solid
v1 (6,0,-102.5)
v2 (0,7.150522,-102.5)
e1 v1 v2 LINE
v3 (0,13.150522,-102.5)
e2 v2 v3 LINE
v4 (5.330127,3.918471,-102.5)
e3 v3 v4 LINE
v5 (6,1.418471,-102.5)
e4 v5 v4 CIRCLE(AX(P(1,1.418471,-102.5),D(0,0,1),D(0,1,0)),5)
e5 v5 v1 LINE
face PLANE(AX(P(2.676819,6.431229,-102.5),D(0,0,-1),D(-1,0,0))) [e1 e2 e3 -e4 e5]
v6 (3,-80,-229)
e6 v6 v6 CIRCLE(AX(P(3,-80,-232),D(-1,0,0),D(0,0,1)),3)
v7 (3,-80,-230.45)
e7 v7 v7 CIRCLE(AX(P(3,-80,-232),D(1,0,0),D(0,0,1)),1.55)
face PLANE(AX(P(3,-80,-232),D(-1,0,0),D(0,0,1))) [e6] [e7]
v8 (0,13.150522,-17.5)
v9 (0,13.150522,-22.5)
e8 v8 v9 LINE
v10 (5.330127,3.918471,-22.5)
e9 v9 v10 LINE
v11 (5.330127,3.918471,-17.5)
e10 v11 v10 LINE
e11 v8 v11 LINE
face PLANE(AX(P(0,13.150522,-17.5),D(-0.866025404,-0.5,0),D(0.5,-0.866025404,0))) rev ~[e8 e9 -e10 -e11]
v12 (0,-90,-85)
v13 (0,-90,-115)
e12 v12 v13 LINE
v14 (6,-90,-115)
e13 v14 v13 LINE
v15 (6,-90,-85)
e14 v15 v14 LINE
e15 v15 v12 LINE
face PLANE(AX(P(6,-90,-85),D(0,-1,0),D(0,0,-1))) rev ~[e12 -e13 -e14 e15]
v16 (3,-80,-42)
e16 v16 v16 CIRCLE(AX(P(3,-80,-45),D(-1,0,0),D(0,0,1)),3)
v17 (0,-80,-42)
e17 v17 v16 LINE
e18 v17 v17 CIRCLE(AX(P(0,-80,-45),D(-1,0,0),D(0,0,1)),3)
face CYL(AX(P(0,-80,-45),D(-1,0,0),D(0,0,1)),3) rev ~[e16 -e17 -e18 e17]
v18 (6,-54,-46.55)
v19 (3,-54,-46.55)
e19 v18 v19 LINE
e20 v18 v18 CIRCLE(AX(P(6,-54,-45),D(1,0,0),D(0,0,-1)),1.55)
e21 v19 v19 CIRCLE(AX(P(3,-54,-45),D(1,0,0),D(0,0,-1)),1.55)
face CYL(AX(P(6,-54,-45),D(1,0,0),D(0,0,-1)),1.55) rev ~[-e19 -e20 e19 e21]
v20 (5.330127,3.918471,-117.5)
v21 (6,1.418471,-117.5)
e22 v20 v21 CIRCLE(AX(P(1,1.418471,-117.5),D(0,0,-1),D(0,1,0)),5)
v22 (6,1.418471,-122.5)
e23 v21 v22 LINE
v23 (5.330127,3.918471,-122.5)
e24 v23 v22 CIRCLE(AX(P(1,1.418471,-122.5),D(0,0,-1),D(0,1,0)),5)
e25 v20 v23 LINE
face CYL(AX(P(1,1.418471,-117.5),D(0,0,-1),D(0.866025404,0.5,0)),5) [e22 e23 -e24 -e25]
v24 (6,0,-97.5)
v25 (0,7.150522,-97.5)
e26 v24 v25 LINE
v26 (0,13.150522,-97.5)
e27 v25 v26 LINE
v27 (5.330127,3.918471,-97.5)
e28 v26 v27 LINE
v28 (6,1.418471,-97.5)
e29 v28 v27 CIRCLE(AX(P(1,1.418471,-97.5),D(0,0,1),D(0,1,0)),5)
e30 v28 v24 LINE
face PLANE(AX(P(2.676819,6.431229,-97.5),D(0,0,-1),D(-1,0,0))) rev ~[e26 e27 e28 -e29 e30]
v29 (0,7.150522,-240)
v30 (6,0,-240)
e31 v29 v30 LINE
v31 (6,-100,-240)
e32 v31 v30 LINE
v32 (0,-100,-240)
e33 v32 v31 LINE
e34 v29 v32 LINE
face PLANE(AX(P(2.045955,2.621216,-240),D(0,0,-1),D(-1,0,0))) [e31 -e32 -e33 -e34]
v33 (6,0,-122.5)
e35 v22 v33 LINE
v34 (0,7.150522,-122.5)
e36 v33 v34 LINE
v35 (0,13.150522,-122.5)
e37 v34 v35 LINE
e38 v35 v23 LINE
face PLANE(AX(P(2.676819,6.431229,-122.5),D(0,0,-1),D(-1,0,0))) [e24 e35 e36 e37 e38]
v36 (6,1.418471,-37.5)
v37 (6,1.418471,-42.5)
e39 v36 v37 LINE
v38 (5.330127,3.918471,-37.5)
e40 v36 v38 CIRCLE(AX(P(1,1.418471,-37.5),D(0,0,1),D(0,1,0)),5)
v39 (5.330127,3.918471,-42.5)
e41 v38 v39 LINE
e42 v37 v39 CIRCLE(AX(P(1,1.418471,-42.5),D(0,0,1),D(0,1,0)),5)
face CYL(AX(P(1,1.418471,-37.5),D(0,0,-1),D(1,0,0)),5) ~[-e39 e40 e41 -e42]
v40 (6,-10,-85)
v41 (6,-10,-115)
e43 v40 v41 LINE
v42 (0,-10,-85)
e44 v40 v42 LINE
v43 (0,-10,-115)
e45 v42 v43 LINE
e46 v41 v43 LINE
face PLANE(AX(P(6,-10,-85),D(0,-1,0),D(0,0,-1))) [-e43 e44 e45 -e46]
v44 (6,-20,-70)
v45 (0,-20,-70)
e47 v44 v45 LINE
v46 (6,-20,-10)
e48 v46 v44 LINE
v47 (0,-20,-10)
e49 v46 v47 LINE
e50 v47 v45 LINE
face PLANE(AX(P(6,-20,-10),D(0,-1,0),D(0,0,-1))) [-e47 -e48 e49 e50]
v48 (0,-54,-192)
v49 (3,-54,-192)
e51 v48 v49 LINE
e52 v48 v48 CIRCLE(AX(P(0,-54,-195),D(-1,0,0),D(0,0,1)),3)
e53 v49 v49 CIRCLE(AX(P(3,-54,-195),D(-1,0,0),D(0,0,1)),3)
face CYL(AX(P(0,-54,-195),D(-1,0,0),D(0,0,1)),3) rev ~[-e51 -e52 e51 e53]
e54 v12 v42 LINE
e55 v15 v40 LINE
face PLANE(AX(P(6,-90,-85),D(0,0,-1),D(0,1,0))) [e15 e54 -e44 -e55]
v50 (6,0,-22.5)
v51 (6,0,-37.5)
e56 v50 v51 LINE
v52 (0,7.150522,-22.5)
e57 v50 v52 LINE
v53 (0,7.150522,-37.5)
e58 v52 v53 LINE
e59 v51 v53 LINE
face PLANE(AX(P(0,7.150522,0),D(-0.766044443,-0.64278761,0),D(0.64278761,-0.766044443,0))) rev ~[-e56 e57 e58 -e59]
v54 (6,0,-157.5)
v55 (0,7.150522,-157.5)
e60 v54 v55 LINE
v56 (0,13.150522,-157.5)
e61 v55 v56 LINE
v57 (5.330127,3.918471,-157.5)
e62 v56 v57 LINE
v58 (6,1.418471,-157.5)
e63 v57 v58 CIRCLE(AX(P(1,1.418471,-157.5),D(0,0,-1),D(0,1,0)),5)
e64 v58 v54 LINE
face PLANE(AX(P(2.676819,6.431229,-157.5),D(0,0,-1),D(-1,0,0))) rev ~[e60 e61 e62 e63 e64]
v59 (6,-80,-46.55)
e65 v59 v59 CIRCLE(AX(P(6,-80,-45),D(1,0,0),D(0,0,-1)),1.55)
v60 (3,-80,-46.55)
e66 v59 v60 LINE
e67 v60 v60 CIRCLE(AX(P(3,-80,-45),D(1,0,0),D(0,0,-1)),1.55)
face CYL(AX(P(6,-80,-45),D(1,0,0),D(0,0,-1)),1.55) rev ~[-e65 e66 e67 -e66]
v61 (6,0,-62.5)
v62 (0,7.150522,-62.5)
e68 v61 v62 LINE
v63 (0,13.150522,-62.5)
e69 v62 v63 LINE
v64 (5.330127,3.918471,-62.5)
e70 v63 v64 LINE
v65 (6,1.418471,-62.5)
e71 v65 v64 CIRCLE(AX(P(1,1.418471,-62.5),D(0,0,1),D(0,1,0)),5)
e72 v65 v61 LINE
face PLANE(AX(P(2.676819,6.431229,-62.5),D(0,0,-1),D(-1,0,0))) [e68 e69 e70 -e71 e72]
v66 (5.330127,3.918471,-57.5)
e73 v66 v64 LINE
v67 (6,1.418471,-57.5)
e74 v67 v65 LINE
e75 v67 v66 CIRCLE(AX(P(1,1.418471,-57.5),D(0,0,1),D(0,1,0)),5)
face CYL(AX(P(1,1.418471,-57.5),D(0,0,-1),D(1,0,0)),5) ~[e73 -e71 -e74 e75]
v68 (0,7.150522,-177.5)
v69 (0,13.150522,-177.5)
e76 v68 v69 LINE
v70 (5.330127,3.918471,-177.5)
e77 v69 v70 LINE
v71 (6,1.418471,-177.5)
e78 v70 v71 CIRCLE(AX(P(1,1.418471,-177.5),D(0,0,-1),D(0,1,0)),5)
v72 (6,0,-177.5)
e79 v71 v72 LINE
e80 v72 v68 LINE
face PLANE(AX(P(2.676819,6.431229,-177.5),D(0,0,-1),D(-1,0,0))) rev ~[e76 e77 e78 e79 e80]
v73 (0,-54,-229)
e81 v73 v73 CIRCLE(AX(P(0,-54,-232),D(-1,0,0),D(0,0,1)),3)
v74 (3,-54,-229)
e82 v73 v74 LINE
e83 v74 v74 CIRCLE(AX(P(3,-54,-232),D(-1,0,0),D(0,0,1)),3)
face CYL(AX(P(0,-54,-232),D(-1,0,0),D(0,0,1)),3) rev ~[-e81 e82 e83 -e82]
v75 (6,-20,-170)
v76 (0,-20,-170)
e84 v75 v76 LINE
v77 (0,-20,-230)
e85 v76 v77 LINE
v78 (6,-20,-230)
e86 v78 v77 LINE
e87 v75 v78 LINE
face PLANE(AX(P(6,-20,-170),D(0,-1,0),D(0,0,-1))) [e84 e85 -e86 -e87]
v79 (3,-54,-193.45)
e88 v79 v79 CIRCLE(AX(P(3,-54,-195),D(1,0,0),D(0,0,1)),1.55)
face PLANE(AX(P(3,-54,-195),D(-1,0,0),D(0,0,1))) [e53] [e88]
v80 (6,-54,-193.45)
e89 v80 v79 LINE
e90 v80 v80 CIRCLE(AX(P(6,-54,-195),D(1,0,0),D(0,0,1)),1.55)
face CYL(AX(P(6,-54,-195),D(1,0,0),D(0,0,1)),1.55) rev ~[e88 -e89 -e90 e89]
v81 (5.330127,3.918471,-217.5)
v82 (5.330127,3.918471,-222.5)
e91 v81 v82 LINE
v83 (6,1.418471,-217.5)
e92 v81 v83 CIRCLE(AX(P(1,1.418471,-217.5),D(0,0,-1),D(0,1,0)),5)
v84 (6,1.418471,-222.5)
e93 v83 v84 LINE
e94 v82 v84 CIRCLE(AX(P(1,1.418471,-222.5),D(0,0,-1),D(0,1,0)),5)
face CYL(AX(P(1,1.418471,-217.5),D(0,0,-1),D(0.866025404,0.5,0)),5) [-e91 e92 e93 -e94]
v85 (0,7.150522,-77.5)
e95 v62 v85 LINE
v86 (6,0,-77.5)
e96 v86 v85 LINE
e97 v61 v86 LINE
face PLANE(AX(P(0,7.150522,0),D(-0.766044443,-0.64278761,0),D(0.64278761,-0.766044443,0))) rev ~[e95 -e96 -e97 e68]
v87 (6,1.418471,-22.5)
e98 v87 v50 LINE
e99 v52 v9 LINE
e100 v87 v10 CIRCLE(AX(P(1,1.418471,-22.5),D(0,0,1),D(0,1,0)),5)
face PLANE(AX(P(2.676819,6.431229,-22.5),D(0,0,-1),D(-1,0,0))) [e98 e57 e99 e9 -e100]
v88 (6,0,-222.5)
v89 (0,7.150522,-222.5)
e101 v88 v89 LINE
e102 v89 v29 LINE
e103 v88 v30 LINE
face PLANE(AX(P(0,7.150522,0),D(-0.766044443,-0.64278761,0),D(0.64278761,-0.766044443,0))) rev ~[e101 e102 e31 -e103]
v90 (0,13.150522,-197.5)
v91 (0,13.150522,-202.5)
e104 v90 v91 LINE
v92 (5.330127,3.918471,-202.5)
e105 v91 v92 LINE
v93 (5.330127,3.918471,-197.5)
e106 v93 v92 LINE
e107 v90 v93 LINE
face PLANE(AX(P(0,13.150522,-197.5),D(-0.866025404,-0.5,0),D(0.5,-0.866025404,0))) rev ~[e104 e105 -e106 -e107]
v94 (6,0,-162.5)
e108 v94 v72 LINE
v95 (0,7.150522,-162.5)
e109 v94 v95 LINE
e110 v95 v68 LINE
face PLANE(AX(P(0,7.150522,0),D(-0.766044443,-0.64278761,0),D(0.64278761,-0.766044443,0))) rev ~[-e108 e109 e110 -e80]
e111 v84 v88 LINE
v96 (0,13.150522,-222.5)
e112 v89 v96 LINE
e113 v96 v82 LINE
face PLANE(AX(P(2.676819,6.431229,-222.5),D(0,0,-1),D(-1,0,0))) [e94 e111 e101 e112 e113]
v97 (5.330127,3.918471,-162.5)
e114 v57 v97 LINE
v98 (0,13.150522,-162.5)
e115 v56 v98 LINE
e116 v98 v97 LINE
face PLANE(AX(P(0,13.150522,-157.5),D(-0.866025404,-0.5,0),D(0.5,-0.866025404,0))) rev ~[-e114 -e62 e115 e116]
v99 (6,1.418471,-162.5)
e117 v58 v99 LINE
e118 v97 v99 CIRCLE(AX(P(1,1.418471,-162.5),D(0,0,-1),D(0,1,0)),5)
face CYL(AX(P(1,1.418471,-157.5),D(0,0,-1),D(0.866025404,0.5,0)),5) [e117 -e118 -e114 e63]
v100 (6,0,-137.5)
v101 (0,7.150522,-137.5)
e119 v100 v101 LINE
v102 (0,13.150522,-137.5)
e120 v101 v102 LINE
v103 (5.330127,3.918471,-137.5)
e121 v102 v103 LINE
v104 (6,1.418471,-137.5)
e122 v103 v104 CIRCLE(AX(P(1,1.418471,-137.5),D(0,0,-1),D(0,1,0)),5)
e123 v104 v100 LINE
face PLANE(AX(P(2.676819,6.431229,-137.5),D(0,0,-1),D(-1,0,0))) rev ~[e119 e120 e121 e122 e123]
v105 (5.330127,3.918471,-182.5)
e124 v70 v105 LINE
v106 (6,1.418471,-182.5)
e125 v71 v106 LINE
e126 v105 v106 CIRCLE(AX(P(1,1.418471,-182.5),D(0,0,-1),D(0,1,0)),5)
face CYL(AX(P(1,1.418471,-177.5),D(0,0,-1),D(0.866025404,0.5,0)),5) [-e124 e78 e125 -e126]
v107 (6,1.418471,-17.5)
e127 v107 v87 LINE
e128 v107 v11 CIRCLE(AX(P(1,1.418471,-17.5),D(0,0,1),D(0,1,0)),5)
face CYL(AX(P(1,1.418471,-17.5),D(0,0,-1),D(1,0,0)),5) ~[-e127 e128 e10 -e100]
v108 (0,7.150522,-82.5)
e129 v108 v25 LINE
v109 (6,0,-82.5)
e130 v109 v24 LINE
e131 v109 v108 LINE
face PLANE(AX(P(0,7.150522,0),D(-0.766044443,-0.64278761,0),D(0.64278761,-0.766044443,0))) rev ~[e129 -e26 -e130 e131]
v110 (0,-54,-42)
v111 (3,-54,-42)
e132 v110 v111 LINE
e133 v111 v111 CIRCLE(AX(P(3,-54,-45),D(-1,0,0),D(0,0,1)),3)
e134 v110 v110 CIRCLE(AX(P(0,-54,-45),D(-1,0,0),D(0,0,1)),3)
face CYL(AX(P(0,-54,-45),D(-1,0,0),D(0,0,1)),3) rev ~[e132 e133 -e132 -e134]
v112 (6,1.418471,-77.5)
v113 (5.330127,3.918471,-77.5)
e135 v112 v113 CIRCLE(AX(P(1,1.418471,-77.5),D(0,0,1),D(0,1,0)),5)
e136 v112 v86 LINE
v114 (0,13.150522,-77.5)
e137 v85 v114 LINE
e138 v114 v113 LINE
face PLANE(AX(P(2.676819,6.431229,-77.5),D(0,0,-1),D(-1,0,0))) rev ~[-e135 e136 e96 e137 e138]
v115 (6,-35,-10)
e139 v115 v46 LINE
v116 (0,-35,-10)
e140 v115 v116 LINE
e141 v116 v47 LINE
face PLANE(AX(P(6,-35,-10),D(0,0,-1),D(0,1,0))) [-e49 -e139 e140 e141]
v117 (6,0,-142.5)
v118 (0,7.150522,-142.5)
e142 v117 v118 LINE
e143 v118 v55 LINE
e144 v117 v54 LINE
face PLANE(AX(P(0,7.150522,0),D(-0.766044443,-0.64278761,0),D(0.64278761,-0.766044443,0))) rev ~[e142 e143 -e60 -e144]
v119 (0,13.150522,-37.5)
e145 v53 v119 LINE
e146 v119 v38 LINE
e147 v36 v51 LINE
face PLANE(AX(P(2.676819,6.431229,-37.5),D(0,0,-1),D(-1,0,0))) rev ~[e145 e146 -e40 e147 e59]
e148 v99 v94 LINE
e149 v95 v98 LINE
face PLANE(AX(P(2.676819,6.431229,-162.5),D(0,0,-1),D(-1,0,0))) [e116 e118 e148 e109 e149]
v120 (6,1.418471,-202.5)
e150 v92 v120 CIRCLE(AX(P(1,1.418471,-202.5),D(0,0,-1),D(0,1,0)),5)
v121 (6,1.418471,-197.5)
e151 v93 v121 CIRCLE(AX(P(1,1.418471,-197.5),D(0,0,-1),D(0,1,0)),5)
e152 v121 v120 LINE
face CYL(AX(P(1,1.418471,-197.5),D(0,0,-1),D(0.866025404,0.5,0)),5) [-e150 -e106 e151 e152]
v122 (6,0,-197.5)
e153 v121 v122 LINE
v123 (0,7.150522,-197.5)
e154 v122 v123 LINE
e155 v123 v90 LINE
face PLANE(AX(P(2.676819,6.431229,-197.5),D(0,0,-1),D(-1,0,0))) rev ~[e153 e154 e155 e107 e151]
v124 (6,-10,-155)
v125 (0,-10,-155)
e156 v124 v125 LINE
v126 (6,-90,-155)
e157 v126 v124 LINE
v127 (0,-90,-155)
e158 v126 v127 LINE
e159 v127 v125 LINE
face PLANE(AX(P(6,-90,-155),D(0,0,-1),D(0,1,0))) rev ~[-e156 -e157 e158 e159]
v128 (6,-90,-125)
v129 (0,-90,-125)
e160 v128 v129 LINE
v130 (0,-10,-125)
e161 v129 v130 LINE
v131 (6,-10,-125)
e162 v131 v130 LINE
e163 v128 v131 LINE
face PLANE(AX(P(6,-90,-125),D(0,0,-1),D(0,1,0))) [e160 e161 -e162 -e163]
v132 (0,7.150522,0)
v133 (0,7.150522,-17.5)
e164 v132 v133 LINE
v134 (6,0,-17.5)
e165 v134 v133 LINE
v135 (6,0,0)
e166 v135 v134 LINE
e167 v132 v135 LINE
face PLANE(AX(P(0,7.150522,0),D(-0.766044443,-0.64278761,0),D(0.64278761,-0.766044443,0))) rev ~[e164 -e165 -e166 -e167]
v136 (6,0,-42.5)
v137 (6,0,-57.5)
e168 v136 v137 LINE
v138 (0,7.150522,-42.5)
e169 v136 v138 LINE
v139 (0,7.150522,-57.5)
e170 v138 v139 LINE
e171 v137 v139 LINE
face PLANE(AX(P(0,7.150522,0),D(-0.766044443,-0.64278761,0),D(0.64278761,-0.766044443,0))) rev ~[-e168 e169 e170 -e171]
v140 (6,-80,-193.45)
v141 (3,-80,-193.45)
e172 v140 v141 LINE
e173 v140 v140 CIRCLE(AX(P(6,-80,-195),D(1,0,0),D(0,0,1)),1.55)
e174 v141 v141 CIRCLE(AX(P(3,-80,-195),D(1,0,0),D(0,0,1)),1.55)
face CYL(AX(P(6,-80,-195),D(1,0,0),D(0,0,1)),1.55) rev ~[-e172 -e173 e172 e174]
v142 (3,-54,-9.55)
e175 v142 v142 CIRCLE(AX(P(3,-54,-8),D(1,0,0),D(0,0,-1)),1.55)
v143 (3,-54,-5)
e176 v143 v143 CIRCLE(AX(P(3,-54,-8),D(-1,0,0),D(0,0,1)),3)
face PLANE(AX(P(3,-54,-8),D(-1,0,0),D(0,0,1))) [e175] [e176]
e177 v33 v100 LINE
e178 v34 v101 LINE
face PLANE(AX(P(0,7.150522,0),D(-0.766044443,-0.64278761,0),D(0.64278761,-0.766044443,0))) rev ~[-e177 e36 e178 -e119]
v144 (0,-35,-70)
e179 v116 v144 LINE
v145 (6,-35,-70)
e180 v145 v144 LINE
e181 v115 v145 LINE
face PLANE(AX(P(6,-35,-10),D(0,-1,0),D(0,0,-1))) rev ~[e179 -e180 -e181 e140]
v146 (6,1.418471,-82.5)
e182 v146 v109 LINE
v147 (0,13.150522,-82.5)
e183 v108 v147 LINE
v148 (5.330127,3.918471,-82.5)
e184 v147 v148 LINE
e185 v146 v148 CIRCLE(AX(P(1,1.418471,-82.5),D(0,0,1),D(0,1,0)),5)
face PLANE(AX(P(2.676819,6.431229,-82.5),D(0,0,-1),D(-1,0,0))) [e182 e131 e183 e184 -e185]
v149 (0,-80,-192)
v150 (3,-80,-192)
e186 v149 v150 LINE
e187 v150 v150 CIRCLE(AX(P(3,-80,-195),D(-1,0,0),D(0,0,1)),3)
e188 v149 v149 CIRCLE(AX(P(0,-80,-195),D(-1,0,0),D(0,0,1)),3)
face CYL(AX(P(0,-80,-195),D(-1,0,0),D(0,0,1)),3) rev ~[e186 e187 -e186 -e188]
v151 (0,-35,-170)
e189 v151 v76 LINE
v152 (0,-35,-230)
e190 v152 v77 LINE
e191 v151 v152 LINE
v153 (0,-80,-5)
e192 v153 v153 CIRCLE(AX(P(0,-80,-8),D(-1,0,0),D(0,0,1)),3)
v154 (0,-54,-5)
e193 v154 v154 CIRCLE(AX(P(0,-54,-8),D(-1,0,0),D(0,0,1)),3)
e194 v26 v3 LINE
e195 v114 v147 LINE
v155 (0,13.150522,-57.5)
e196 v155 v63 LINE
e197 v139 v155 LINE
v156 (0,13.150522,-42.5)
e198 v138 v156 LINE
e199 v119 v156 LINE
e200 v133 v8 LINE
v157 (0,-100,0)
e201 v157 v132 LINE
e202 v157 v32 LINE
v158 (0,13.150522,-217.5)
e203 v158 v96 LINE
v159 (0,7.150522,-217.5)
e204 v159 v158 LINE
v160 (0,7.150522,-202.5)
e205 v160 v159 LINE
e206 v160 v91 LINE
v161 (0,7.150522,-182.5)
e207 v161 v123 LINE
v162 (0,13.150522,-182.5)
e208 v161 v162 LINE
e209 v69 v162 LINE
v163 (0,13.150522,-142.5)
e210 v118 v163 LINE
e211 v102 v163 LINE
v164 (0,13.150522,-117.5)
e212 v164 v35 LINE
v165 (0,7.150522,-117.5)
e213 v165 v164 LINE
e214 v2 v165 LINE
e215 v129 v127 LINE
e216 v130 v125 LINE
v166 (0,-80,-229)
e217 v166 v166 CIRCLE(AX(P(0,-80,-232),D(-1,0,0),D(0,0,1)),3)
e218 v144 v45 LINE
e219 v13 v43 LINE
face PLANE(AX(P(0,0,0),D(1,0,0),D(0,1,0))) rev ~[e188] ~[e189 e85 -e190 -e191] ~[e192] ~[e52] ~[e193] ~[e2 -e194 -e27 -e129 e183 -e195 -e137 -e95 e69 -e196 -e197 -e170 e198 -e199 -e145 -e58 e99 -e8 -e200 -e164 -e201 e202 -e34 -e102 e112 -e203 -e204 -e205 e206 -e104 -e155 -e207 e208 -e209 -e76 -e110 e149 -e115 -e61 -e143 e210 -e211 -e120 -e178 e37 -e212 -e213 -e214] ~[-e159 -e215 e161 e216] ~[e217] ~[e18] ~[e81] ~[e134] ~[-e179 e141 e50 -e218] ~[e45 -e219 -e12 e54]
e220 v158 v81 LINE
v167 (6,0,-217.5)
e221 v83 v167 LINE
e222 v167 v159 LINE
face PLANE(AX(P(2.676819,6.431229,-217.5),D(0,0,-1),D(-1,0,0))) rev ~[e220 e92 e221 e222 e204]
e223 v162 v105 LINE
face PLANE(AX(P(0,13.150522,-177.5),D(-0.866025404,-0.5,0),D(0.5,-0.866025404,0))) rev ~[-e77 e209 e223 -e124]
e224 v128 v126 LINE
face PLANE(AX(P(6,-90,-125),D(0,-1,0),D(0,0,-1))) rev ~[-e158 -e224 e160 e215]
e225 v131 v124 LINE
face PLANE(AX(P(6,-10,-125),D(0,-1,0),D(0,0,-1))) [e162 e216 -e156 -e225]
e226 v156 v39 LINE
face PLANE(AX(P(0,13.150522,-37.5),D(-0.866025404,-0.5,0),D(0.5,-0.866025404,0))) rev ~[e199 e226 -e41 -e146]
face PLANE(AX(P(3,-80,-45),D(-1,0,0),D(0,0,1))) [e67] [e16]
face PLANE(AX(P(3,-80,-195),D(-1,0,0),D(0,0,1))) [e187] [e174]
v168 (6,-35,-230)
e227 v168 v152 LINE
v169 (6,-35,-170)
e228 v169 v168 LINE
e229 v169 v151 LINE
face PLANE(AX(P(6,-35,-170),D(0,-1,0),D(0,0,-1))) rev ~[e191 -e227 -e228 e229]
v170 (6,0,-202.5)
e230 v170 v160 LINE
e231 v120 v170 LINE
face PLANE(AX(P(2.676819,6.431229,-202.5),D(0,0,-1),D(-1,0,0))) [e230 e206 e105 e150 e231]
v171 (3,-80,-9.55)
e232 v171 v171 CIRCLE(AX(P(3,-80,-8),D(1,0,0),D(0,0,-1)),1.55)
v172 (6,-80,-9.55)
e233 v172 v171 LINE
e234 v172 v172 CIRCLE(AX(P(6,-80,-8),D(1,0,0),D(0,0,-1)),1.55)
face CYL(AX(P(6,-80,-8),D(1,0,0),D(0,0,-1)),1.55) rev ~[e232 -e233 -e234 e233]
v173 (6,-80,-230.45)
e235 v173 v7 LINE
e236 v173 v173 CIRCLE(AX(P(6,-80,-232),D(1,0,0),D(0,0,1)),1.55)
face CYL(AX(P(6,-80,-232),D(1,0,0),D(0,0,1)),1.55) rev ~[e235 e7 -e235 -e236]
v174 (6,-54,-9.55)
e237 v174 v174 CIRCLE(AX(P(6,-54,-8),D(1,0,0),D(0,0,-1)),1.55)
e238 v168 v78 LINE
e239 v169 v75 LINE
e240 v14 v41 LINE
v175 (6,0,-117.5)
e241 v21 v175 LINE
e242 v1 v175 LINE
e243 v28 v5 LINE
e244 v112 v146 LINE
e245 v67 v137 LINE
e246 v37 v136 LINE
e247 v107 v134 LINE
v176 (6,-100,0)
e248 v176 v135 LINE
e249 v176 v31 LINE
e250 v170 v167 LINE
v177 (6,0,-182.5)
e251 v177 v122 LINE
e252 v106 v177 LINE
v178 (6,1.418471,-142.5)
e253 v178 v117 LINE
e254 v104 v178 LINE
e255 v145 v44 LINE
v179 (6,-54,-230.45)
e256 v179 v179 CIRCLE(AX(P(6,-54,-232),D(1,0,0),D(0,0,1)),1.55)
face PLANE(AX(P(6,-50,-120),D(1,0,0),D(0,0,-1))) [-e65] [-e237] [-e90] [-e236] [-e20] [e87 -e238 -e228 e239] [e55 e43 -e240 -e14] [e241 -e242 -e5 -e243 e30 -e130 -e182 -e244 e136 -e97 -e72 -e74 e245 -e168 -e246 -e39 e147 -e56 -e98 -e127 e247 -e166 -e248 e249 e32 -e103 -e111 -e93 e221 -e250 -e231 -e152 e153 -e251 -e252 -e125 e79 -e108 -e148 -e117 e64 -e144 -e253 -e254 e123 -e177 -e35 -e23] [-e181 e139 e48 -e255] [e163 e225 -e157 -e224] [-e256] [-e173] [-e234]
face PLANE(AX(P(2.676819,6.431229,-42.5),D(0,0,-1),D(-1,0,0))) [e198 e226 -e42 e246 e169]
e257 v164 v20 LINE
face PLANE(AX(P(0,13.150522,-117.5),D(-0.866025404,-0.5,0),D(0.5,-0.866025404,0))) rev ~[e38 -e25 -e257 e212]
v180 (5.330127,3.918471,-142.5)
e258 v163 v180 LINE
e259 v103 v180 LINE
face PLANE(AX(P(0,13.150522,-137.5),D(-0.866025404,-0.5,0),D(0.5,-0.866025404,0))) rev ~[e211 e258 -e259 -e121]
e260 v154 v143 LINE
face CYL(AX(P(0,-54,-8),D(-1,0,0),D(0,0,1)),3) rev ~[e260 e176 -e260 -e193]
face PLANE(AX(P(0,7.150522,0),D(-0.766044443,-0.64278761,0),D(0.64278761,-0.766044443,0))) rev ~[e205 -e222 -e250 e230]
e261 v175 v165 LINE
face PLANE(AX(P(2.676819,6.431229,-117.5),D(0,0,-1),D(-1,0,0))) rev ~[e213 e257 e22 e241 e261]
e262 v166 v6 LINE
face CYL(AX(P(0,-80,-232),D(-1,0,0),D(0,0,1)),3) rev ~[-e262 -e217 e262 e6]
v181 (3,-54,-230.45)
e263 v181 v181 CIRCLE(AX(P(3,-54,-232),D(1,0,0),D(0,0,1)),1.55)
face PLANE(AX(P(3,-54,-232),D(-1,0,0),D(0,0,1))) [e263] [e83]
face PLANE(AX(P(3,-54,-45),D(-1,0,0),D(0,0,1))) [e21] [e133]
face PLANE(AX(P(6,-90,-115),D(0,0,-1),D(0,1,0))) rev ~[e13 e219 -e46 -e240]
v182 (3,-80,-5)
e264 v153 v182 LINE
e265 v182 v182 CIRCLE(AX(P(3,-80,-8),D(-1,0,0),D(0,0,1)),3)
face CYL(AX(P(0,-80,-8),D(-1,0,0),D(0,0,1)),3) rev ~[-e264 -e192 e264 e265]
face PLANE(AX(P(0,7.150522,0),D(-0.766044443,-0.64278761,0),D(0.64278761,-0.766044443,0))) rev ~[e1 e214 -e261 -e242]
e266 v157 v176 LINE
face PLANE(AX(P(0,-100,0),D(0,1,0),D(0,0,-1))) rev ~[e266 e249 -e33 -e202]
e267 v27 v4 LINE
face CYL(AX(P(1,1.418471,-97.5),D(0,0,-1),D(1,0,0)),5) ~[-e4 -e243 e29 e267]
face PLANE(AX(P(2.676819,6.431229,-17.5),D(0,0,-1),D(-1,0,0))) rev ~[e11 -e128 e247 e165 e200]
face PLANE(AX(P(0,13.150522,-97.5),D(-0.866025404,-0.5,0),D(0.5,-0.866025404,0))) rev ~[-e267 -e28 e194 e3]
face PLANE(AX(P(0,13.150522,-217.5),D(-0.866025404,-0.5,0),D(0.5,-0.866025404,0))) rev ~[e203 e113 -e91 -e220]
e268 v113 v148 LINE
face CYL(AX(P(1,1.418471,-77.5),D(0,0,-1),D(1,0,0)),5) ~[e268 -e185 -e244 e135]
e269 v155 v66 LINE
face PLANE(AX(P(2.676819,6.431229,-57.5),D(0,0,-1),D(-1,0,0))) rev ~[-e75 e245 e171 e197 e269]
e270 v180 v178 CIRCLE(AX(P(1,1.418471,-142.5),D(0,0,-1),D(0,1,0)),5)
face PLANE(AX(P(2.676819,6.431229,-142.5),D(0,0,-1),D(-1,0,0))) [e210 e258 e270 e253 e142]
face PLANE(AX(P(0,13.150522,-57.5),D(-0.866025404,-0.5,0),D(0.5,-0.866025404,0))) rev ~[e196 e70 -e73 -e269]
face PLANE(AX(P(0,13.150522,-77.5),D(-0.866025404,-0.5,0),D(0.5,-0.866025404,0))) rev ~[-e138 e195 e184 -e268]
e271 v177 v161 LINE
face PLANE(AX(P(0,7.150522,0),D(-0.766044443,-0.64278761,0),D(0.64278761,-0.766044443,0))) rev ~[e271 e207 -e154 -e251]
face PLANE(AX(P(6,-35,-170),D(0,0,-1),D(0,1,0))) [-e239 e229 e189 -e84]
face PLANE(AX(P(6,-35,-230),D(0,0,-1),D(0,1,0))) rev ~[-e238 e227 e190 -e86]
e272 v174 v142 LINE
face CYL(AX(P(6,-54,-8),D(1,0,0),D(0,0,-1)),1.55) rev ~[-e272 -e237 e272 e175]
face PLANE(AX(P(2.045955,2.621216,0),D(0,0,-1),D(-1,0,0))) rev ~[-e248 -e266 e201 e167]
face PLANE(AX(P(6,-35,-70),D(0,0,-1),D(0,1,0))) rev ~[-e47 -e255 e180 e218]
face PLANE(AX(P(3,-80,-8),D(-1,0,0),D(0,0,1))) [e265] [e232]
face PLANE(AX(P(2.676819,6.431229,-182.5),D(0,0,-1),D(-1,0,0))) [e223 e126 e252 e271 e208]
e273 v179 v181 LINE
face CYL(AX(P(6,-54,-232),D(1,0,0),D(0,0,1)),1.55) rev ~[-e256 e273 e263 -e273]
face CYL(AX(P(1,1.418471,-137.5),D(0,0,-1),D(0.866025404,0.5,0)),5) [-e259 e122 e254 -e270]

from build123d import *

# Parameters (mm, degrees)
SKETCH_1_W                 = 240
SKETCH_1_H                 = 100
EXTRUDE_1_DEPTH            = 6
SKETCH_2_R                 = 1.55
CUT_EXTRUDE_1_DEPTH        = 261.069221555
SKETCH_3_W                 = 60
SKETCH_3_H                 = 15
CUT_EXTRUDE_2_DEPTH        = 261.069221555
SKETCH_4_W                 = 30
SKETCH_4_H                 = 80
CUT_EXTRUDE_3_DEPTH        = 261.069221555
SKETCH_5_R                 = 3
CUT_EXTRUDE_4_DEPTH        = 3
EXTRUDE_2_DEPTH            = 240
EXTRUDE_3_DEPTH            = 5
PATTERN_LINEAR_1_COUNT     = 6
PATTERN_LINEAR_1_PITCH     = 20
PATTERN_LINEAR_1_COL_COUNT = 6
PATTERN_LINEAR_1_COL_PITCH = 20
FILLET_1_R                 = 5


with BuildPart() as part:
    # 草图1 → 凸台-拉伸1 (new body)
    with BuildSketch(Plane(origin=(0, 0, 0), x_dir=(0, 0, -1), z_dir=(1, 0, 0))):
        with Locations((120, -50)):
            Rectangle(SKETCH_1_W, SKETCH_1_H)
    extrude(amount=EXTRUDE_1_DEPTH)

    # 草图2 → 切除-拉伸1 (cut, through all)
    with BuildSketch(Plane(origin=(6, 0, 0), x_dir=(0, 0, -1), z_dir=(1, 0, 0))):
        with Locations((8, -54)):
            Circle(SKETCH_2_R)
        with Locations((45, -80)):
            Circle(SKETCH_2_R)
        with Locations((45, -54)):
            Circle(SKETCH_2_R)
        with Locations((8, -80)):
            Circle(SKETCH_2_R)
        with Locations(Location((232, -80, 0), (0, 0, 180))):
            Circle(SKETCH_2_R)
        with Locations(Location((195, -54, 0), (0, 0, 180))):
            Circle(SKETCH_2_R)
        with Locations(Location((195, -80, 0), (0, 0, 180))):
            Circle(SKETCH_2_R)
        with Locations(Location((232, -54, 0), (0, 0, 180))):
            Circle(SKETCH_2_R)
    extrude(amount=-CUT_EXTRUDE_1_DEPTH, mode=Mode.SUBTRACT)

    # 草图3 → 切除-拉伸2 (cut, through all)
    with BuildSketch(Plane(origin=(6, 0, 0), x_dir=(0, 0, -1), z_dir=(1, 0, 0))):
        with Locations((40, -27.5)):
            Rectangle(SKETCH_3_W, SKETCH_3_H)
        with Locations((200, -27.5)):
            Rectangle(SKETCH_3_W, SKETCH_3_H)
    extrude(amount=-CUT_EXTRUDE_2_DEPTH, mode=Mode.SUBTRACT)

    # 草图4 → 切除-拉伸3 (cut, through all)
    with BuildSketch(Plane(origin=(6, 0, 0), x_dir=(0, 0, -1), z_dir=(1, 0, 0))):
        with Locations((100, -50)):
            Rectangle(SKETCH_4_W, SKETCH_4_H)
        with Locations((140, -50)):
            Rectangle(SKETCH_4_W, SKETCH_4_H)
    extrude(amount=-CUT_EXTRUDE_3_DEPTH, mode=Mode.SUBTRACT)

    # 草图5 → 切除-拉伸4 (cut)
    with BuildSketch(Plane.ZY):
        with Locations((-195, -80)):
            Circle(SKETCH_5_R)
        with Locations((-232, -80)):
            Circle(SKETCH_5_R)
        with Locations((-195, -54)):
            Circle(SKETCH_5_R)
        with Locations((-232, -54)):
            Circle(SKETCH_5_R)
        with Locations((-45, -80)):
            Circle(SKETCH_5_R)
        with Locations((-8, -80)):
            Circle(SKETCH_5_R)
        with Locations((-8, -54)):
            Circle(SKETCH_5_R)
        with Locations((-45, -54)):
            Circle(SKETCH_5_R)
    extrude(amount=-CUT_EXTRUDE_4_DEPTH, mode=Mode.SUBTRACT)

    # 草图6 → 凸台-拉伸2 (add)
    with BuildSketch(Plane.XY):
        Polygon((6, 0), (0, 0), (0, 7.150521556), align=None)
    extrude(amount=-EXTRUDE_2_DEPTH)

    # 草图7 → 凸台-拉伸3 (add)
    with BuildSketch(Plane.XY.offset(-117.5)):
        Polygon((0, 7.150521556), (0, 13.150521556), (6, 2.75821671), (6, 0), align=None)
    extrude_3 = extrude(amount=-EXTRUDE_3_DEPTH)

    # 阵列(线性)1: 凸台-拉伸3 ×6
    with Locations(*[(0, 0, -i * PATTERN_LINEAR_1_PITCH) for i in range(1, PATTERN_LINEAR_1_COUNT)]):
        add(extrude_3)

    # 阵列(线性)1 col: 凸台-拉伸3 ×6
    with Locations(*[(0, 0, i * PATTERN_LINEAR_1_COL_PITCH) for i in range(1, PATTERN_LINEAR_1_COL_COUNT)]):
        add(extrude_3)

    # 圆角1
    fillet_1_edges = [part.edges().sort_by_distance(p)[0] for p in [
        (6, 2.75821671, -120),
        (6, 2.75821671, -100),
        (6, 2.75821671, -80),
        (6, 2.75821671, -60),
        (6, 2.75821671, -40),
        (6, 2.75821671, -20),
        (6, 2.75821671, -140),
        (6, 2.75821671, -160),
        (6, 2.75821671, -180),
        (6, 2.75821671, -200),
        (6, 2.75821671, -220),
    ]]
    fillet(fillet_1_edges, radius=FILLET_1_R)


solid = part.part
